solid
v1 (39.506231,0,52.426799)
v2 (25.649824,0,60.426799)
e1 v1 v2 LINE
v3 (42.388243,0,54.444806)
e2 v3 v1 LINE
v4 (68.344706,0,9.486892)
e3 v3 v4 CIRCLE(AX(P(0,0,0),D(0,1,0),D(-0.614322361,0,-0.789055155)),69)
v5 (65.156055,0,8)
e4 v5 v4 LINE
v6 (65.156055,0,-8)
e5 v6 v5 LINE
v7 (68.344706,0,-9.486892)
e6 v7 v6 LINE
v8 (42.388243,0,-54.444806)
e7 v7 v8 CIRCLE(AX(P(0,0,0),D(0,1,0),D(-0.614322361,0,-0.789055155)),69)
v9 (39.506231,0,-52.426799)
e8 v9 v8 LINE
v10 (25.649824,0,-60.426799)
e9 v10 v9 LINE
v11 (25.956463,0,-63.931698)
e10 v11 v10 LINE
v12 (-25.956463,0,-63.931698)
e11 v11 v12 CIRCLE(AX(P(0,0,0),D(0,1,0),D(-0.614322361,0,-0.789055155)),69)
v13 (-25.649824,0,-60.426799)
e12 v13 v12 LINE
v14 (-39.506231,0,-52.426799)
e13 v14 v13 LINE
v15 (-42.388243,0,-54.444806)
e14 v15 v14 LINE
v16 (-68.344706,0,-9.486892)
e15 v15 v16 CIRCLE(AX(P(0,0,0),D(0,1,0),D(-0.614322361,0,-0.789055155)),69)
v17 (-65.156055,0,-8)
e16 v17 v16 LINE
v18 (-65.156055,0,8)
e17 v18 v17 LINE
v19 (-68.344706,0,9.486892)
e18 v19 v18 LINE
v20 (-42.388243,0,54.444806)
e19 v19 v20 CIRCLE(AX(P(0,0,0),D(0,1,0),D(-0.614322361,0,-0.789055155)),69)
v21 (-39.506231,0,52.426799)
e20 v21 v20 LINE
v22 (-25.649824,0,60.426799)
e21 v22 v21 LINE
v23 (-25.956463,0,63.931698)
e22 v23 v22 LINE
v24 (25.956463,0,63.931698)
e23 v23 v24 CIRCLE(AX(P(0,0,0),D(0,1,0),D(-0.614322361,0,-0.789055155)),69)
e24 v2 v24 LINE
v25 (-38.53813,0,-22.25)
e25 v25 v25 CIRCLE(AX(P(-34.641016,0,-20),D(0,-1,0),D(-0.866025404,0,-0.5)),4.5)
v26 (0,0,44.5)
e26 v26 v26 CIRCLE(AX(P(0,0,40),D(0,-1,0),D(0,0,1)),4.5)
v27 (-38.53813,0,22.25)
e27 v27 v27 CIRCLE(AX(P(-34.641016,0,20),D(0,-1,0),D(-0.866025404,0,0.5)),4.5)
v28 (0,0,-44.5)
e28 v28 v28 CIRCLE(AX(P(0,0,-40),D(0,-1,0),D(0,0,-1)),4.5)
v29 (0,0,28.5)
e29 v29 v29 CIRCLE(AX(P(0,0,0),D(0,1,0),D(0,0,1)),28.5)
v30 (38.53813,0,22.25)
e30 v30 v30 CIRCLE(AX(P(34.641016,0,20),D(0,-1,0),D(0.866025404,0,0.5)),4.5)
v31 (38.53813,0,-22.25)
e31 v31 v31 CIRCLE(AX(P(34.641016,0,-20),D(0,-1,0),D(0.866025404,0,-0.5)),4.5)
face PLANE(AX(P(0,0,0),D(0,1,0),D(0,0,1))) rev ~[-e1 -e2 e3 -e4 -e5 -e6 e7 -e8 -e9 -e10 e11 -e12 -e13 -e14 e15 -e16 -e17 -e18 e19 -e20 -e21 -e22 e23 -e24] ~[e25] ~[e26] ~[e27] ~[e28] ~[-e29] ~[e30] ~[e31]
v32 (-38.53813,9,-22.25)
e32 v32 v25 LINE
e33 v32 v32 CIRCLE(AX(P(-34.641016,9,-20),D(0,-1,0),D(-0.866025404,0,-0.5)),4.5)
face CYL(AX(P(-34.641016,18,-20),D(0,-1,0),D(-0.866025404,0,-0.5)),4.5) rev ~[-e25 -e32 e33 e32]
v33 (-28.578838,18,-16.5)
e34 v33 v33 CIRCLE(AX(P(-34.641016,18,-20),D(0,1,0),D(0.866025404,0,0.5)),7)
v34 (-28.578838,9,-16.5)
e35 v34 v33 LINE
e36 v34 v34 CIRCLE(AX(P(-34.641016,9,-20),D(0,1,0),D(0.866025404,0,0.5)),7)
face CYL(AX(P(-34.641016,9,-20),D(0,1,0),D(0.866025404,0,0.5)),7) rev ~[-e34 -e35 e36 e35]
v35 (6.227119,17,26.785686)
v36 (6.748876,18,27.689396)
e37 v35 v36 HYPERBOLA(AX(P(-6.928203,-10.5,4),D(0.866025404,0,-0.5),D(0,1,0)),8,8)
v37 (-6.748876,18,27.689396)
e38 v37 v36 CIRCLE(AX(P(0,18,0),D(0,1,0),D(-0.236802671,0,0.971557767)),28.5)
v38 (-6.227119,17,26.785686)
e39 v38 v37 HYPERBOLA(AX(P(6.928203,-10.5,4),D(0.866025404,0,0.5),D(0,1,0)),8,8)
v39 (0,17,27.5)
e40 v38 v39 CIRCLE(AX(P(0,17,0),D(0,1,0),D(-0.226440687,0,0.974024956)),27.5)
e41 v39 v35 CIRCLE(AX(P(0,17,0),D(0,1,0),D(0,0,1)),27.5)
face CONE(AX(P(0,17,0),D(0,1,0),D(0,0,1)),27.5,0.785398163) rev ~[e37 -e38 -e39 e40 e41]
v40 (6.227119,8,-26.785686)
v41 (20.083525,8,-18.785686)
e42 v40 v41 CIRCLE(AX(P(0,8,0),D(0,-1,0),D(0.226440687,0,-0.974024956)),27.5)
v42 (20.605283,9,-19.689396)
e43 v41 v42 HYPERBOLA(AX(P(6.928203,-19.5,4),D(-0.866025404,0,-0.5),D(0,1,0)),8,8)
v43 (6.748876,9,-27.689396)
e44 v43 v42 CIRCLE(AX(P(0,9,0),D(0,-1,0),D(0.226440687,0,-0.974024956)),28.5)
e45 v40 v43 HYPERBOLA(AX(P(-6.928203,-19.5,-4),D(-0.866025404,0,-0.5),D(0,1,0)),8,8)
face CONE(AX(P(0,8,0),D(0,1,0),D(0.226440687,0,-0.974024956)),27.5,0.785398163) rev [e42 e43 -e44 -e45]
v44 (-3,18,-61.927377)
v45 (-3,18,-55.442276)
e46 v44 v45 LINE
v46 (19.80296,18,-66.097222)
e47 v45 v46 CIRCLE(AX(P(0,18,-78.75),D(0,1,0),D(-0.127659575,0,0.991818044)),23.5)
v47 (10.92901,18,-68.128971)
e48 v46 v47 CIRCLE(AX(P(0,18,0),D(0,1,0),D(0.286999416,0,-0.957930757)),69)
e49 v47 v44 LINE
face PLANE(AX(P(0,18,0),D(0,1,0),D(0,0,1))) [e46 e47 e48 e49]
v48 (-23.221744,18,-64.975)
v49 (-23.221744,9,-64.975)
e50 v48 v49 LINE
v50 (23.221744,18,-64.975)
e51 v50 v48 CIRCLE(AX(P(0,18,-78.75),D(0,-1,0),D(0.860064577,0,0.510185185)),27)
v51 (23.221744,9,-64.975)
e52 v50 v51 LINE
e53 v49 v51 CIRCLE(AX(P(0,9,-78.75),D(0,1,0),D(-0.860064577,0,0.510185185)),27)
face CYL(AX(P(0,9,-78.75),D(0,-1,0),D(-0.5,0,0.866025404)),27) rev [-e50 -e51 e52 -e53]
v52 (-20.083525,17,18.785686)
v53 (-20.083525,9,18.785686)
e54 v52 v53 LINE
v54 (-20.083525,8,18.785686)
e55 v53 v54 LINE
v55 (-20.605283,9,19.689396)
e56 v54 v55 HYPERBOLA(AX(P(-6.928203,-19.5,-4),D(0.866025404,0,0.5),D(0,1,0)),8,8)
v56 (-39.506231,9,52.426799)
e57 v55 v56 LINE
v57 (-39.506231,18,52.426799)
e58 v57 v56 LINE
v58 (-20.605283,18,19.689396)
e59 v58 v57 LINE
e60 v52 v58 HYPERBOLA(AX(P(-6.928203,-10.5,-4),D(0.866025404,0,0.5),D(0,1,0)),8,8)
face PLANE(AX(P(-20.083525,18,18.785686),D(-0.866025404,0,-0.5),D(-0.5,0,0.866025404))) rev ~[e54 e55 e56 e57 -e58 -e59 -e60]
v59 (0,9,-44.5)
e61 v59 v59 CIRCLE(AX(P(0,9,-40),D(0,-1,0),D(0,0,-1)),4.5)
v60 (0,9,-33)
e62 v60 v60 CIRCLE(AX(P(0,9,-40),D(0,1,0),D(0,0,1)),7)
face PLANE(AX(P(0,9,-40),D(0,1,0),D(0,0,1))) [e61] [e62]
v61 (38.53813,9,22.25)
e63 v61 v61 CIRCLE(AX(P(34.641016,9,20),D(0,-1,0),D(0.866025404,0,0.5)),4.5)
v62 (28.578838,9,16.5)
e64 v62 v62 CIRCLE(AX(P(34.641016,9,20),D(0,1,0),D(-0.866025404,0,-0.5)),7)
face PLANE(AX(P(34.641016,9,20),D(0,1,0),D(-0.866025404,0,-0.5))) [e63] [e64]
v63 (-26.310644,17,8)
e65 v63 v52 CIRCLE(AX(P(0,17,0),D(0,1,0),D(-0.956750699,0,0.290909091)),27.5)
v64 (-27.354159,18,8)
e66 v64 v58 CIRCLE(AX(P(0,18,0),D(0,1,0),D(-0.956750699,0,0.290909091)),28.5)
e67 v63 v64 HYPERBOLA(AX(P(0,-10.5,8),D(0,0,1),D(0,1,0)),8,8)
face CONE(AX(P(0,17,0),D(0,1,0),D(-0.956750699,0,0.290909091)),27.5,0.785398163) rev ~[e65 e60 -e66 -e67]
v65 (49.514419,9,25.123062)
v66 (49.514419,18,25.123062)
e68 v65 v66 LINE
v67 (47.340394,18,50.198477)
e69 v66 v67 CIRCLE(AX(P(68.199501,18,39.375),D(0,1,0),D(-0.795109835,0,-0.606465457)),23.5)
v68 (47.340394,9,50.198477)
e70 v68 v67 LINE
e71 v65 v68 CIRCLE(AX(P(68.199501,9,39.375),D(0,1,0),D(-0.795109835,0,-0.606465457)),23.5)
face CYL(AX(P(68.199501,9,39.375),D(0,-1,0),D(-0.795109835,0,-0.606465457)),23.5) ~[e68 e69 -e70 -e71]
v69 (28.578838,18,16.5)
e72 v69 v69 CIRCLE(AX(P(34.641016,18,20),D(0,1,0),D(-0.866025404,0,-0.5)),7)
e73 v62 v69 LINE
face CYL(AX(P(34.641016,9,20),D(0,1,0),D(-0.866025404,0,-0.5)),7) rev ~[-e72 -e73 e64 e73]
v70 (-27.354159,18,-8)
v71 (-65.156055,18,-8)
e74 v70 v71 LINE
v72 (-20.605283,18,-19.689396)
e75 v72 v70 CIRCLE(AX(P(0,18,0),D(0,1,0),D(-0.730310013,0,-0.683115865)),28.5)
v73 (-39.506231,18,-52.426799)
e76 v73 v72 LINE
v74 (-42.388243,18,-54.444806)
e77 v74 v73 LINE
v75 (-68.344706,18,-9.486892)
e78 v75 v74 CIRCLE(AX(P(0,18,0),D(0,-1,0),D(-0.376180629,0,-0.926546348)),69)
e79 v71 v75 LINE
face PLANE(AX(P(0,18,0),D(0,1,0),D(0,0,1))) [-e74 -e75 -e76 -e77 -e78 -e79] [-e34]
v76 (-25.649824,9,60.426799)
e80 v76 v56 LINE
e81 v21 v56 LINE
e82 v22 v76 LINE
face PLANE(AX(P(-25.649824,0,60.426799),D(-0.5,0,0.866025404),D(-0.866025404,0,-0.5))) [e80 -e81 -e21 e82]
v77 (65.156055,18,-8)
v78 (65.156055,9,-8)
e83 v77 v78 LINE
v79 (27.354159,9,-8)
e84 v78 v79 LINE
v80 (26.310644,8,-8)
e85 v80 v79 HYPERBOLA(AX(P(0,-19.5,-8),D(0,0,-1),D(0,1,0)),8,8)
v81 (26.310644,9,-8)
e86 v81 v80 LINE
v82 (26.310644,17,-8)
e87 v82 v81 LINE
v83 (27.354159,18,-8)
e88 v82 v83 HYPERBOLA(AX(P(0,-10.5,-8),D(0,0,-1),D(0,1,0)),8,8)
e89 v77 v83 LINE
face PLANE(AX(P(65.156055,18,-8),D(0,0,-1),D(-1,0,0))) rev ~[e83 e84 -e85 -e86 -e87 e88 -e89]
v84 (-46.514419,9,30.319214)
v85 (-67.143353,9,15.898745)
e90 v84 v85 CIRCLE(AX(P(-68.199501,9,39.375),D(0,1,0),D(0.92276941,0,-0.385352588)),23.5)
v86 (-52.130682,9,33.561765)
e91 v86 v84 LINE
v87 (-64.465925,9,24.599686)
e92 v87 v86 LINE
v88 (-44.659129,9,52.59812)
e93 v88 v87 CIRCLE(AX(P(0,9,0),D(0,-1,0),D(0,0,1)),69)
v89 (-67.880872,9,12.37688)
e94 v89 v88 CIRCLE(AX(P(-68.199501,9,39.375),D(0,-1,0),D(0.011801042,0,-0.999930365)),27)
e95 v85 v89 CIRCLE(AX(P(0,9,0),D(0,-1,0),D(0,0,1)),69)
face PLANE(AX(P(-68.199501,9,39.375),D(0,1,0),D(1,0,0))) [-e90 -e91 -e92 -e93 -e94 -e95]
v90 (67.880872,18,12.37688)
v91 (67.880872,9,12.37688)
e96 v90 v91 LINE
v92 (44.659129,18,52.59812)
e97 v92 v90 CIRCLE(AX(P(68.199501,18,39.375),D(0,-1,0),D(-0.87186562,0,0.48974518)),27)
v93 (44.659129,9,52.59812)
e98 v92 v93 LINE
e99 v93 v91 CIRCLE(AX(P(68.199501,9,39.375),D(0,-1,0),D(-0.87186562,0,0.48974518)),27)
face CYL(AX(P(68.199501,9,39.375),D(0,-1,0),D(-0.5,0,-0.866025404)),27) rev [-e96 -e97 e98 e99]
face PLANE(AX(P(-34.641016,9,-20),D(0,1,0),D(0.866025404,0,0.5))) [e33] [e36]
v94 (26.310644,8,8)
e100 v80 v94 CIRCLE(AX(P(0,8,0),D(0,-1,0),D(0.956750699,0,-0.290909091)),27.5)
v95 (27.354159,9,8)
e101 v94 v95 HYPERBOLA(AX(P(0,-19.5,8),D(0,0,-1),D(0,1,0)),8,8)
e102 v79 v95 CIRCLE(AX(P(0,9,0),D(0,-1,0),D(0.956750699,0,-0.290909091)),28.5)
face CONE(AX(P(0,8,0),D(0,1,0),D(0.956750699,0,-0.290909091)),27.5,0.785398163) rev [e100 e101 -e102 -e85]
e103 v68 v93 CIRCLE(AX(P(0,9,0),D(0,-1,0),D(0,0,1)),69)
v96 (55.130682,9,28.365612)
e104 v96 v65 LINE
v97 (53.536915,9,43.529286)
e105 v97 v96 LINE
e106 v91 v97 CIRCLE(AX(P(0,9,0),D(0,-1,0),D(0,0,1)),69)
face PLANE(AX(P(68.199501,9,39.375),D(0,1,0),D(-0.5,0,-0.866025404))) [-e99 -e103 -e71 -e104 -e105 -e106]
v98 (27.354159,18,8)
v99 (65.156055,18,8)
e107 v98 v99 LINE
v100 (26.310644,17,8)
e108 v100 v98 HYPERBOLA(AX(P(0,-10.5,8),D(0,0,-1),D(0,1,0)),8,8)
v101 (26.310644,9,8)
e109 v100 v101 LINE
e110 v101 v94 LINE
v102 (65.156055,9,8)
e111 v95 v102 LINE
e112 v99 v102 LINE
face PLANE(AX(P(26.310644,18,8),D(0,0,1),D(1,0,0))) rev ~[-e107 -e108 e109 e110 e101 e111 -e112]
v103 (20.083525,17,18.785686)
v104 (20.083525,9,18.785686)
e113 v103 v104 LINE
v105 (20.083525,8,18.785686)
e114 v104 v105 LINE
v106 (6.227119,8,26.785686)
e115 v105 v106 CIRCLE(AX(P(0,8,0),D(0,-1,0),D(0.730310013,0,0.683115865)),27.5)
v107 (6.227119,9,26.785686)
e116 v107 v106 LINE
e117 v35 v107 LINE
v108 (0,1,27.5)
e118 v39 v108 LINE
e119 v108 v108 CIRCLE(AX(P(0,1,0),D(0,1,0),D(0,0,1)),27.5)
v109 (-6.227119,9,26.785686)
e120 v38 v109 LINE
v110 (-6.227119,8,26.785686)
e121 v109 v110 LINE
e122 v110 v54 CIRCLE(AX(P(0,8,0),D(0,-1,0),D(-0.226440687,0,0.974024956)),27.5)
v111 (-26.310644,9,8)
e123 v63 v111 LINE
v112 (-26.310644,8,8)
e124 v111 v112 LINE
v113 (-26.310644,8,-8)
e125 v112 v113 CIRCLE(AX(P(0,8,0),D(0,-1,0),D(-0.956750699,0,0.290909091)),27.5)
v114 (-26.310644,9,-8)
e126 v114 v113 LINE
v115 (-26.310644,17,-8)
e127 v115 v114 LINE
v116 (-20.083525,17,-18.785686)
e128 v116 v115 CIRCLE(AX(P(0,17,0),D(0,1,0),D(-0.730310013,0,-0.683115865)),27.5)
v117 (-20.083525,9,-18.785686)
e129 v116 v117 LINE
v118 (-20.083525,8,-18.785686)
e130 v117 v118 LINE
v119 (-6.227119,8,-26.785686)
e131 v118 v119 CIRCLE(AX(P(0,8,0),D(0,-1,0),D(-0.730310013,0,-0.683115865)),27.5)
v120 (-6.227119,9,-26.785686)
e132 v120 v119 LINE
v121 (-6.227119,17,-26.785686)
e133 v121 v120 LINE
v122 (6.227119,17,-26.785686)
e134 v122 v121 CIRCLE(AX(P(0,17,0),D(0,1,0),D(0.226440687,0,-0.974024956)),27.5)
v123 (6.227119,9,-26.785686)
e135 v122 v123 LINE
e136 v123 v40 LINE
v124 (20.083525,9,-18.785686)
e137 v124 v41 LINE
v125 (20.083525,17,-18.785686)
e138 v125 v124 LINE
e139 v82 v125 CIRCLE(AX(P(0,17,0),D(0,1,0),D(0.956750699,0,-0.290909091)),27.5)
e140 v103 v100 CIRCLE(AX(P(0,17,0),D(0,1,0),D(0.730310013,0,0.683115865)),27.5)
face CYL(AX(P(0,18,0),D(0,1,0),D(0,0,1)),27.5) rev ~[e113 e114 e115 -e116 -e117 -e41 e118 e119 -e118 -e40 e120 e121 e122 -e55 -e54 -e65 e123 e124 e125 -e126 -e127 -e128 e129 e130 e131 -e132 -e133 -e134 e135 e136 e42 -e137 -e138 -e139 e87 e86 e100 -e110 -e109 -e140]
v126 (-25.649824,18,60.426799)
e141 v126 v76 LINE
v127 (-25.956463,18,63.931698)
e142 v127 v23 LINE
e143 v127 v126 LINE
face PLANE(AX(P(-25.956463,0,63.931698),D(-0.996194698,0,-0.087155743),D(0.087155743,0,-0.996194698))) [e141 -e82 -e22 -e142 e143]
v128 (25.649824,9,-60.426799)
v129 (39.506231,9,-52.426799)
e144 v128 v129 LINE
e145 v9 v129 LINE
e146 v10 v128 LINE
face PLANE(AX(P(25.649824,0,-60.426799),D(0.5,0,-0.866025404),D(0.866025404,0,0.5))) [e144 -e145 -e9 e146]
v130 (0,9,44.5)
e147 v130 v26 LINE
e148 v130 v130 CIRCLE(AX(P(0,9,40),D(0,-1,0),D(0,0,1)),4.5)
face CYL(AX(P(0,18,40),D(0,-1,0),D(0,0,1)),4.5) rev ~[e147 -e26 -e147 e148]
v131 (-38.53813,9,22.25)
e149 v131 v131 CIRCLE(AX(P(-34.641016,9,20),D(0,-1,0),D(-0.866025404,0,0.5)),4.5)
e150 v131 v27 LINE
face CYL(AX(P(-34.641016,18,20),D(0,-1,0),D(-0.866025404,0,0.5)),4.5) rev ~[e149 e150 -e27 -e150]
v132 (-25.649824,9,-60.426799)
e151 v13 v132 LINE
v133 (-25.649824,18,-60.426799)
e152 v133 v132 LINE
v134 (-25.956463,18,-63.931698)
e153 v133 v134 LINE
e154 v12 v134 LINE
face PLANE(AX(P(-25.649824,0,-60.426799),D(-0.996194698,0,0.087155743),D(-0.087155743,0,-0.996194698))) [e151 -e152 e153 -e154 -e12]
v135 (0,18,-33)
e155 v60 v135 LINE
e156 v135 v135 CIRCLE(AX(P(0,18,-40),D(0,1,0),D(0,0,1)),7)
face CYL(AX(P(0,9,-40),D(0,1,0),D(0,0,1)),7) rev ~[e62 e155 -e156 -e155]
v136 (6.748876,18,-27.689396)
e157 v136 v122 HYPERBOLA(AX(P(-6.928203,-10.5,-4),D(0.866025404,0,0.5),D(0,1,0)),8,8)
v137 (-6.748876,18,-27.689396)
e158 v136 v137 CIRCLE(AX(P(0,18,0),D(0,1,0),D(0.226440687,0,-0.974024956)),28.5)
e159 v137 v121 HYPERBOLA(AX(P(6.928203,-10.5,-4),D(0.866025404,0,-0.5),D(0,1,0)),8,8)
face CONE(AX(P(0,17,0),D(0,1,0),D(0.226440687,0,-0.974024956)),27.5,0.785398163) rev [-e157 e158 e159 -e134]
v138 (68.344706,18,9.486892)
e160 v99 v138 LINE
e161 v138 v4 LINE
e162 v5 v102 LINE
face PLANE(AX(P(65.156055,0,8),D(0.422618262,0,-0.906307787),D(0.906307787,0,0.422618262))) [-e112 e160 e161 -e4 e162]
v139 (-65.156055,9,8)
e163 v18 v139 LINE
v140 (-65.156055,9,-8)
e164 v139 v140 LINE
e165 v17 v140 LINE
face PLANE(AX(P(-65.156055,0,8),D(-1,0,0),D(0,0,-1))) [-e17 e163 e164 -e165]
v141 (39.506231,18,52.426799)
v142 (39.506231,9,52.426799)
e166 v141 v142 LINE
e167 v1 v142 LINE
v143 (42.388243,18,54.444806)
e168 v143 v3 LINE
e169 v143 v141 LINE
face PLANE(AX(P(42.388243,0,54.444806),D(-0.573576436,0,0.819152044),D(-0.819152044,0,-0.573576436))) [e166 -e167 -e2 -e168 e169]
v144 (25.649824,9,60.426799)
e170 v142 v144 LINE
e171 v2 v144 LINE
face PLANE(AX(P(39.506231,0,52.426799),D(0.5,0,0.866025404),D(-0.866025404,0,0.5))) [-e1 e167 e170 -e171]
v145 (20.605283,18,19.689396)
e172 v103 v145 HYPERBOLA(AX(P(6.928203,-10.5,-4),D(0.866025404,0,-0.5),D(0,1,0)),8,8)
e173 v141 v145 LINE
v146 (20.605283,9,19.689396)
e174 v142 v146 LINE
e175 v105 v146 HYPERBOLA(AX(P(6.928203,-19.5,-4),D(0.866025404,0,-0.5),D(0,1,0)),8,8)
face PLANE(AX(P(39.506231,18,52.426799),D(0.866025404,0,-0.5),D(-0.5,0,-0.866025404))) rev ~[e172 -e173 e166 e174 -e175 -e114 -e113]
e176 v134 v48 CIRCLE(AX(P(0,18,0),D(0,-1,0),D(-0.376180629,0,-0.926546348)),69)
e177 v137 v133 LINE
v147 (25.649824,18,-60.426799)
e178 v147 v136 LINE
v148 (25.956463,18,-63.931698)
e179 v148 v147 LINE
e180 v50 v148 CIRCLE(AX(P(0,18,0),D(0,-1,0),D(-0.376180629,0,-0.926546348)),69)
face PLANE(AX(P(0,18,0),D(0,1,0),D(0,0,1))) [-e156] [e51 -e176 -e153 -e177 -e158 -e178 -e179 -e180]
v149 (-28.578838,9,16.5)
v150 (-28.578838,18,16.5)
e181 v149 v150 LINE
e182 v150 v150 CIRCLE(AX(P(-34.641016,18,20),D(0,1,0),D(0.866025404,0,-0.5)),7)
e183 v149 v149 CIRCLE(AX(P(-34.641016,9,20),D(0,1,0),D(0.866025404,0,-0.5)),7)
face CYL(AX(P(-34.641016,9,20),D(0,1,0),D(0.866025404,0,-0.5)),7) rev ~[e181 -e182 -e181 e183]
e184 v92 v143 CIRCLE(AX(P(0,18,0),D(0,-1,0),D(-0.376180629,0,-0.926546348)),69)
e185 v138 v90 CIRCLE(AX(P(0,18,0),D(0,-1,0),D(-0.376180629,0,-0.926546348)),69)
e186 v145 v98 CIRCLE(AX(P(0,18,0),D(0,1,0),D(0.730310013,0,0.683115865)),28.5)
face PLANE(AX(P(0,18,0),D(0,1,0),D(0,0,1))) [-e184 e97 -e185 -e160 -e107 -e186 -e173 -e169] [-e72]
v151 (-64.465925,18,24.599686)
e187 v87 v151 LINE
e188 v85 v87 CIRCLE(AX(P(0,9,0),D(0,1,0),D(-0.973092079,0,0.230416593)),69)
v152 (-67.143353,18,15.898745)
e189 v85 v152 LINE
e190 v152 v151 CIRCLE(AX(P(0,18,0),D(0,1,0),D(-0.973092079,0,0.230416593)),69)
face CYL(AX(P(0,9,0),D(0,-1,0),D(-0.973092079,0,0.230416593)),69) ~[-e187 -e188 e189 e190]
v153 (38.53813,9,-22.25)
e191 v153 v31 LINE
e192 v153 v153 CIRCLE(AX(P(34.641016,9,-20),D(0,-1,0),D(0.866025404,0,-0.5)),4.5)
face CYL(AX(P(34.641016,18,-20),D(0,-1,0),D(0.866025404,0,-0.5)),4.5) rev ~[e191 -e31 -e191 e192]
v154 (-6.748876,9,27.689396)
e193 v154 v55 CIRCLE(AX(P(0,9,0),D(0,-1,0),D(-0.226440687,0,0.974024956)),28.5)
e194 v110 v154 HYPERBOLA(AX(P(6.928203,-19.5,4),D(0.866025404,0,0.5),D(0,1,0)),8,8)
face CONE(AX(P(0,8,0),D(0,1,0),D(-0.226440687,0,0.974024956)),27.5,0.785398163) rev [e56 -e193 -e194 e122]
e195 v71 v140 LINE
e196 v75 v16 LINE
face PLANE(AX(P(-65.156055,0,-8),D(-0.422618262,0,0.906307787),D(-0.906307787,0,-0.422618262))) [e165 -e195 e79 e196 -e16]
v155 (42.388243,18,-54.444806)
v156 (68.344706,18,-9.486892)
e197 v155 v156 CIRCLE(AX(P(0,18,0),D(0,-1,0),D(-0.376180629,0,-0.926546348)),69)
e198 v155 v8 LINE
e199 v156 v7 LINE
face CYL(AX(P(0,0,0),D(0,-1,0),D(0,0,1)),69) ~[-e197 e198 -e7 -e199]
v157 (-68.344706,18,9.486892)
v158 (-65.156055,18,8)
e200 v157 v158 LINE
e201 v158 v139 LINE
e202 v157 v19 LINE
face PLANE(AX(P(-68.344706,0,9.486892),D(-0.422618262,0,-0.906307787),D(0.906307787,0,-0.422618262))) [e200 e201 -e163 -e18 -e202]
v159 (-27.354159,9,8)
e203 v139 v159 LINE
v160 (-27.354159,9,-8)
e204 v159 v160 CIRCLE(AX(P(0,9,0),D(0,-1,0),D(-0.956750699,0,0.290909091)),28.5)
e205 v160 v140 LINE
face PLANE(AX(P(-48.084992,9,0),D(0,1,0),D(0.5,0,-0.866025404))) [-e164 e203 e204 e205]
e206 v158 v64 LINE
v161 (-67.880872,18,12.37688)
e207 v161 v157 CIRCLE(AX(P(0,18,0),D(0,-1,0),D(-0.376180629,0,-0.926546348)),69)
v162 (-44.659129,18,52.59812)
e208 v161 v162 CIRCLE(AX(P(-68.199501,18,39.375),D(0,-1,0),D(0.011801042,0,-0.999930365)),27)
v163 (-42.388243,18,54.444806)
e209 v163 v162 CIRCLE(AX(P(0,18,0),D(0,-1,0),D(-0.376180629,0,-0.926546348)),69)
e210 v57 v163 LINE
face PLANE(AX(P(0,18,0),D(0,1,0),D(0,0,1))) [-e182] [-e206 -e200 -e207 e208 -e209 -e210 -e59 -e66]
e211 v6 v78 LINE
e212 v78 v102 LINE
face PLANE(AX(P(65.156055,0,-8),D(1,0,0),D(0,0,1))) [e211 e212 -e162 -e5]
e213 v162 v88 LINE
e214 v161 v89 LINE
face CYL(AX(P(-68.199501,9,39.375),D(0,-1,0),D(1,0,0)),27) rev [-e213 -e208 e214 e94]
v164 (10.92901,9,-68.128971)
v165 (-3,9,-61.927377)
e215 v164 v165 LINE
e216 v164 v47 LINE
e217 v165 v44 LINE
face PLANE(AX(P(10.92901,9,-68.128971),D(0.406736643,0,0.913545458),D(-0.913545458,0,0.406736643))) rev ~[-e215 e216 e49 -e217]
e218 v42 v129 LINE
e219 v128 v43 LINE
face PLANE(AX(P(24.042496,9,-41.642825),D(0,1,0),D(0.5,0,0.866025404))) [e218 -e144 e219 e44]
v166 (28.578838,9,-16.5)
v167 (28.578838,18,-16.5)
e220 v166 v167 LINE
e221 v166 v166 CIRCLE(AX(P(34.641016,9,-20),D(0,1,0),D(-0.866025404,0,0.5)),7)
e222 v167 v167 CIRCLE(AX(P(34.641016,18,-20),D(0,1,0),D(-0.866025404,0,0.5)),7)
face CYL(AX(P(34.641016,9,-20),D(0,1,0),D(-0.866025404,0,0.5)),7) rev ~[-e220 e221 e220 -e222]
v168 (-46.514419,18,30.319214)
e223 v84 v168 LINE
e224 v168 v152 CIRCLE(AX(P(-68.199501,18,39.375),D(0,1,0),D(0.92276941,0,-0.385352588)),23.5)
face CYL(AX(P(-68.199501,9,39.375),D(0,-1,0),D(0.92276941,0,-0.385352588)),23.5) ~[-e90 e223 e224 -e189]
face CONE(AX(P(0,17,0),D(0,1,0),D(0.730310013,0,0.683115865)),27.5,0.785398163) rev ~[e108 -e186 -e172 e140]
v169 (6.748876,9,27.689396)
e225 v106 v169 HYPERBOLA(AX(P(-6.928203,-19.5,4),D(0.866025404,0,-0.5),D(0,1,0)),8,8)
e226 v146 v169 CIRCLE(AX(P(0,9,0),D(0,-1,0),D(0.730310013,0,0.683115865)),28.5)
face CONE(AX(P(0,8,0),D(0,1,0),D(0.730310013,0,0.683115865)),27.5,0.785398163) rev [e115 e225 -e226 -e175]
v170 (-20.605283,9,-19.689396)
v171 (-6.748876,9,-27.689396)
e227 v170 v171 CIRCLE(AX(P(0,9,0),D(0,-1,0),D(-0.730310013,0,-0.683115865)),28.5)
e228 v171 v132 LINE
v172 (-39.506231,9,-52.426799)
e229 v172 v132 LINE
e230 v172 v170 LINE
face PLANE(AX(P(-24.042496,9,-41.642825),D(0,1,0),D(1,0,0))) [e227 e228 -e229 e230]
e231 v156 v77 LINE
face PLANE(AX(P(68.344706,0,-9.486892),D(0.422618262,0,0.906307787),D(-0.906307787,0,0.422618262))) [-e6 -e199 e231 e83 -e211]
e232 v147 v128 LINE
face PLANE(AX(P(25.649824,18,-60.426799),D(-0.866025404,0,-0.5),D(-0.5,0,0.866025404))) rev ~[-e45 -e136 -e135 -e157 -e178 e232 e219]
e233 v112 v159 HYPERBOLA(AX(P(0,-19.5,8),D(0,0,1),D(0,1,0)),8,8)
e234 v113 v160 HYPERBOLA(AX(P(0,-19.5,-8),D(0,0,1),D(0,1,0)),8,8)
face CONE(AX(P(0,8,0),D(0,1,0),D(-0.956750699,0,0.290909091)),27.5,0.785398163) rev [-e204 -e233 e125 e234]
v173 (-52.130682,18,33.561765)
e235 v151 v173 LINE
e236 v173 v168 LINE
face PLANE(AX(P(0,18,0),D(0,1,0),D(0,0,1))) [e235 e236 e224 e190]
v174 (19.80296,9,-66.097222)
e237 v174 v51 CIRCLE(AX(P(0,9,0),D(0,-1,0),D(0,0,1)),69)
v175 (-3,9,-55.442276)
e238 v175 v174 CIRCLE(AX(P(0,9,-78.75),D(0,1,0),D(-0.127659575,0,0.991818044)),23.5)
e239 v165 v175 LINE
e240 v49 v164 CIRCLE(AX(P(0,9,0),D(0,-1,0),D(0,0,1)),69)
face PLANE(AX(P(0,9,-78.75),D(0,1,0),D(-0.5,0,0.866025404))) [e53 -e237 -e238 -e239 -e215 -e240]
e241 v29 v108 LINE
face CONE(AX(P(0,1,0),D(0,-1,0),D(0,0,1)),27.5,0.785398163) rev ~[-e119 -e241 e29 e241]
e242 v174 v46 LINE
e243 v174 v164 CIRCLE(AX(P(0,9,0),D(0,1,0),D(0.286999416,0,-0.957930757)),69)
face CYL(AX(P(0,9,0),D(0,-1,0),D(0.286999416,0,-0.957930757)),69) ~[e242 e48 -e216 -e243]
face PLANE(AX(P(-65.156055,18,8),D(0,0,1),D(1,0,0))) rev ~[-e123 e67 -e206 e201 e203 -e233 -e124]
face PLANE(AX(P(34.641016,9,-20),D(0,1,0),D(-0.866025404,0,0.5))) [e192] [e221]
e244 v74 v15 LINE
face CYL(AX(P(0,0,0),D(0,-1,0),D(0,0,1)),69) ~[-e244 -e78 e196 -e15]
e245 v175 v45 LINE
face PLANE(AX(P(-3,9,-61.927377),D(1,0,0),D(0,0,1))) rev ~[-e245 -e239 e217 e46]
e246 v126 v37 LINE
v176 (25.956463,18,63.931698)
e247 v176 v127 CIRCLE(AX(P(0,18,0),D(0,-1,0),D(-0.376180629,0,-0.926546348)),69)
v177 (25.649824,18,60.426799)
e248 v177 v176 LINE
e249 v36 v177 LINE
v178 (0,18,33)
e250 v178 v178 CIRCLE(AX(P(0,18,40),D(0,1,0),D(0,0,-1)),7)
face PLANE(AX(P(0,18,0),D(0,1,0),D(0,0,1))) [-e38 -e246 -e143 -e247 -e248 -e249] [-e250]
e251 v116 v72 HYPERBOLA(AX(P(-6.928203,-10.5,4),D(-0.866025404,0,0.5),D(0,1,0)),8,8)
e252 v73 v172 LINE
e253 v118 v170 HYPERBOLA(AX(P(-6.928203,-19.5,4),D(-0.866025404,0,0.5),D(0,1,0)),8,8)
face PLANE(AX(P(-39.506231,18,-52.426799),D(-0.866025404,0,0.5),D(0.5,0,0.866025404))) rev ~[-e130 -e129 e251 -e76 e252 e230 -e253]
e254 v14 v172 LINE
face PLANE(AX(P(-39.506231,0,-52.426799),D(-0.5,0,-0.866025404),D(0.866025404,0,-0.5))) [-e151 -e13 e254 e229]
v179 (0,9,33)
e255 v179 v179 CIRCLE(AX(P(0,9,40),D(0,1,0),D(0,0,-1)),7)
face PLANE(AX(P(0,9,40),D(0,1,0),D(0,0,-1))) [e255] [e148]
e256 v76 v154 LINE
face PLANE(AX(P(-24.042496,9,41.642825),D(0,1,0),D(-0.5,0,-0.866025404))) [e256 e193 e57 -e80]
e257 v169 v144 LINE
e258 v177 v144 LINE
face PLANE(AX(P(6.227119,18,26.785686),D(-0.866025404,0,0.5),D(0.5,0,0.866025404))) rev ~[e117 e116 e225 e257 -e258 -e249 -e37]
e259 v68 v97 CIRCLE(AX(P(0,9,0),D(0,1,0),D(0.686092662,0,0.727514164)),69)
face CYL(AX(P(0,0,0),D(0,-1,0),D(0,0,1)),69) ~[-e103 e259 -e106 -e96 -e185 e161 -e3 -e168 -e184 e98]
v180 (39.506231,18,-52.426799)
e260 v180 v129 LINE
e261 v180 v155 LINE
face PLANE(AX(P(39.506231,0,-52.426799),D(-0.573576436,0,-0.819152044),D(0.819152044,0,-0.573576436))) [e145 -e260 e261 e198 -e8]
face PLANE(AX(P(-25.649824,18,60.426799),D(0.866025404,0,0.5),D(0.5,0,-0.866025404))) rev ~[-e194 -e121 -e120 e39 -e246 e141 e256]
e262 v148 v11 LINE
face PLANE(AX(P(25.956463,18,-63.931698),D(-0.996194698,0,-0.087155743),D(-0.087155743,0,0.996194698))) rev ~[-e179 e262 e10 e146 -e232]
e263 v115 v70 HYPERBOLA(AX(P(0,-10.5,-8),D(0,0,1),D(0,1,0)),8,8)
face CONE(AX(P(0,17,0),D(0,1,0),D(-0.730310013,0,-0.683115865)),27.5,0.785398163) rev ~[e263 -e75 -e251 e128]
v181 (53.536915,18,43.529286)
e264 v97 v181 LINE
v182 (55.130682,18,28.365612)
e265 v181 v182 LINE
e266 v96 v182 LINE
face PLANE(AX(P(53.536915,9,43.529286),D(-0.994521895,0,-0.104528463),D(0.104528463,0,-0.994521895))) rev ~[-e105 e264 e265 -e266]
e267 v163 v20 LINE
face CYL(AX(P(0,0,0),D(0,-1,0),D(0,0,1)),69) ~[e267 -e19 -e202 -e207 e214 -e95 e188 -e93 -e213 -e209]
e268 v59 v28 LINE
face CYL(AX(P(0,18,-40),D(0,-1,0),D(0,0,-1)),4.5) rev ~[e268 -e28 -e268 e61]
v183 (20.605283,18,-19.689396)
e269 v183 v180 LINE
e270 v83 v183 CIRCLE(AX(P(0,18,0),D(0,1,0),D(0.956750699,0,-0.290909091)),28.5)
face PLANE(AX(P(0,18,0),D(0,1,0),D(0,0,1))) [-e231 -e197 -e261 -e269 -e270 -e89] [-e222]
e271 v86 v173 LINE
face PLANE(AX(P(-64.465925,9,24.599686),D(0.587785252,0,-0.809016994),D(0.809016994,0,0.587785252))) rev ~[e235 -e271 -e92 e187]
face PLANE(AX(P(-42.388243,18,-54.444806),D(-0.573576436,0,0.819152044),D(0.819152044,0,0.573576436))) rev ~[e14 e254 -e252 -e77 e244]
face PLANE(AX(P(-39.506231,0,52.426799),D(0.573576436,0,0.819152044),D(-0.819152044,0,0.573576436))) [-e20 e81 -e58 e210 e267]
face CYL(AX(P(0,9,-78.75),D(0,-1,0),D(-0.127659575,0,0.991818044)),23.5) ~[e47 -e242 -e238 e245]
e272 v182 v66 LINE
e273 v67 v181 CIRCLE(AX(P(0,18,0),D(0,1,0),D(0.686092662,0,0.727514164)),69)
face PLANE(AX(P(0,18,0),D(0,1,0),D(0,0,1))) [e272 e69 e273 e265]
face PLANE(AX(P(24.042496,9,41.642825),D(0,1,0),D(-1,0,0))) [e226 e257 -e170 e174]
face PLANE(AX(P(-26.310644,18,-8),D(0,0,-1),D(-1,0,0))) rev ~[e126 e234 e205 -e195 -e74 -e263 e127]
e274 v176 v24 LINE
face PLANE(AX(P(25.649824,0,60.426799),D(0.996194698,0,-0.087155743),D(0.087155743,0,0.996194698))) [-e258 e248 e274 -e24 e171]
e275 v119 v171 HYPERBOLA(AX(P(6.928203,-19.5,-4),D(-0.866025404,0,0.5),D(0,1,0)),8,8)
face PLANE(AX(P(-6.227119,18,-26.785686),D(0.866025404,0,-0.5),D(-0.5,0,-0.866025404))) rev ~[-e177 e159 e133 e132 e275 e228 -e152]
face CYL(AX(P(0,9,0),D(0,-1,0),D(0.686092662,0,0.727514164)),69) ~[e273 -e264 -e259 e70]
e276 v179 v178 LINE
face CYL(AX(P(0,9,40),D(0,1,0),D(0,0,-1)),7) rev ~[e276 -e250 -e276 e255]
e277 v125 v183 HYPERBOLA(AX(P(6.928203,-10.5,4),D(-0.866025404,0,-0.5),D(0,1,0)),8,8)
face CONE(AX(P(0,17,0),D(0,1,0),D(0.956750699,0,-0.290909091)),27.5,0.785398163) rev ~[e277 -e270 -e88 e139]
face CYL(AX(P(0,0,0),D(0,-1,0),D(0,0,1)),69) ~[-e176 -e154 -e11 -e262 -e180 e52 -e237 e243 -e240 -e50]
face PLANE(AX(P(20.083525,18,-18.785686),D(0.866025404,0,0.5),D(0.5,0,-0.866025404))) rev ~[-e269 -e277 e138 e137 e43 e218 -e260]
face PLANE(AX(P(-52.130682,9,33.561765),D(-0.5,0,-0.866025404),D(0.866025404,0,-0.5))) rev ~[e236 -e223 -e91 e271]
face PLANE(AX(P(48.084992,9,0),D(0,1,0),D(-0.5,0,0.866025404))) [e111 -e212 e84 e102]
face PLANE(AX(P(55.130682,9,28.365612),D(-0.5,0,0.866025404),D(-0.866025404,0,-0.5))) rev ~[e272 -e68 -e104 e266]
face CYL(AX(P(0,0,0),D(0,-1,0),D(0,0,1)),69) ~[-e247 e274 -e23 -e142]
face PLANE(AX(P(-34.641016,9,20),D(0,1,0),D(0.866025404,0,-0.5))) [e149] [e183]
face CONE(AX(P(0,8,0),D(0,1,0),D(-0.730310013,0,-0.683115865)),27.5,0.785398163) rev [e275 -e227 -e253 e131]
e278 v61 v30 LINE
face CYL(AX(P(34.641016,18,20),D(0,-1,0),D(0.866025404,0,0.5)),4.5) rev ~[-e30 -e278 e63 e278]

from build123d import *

# Parameters (mm, degrees)
SKETCH1_R                               = 69
BOSS_EXTRUDE1_DEPTH                     = 18
SKETCH2_R                               = 27.5
CUT_EXTRUDE1_DEPTH                      = 100.227012451
CUT_EXTRUDE2_DEPTH                      = 9
CUT_EXTRUDE3_START                      = -9
CUT_EXTRUDE3_DEPTH                      = 9
CIRPATTERN1_COUNT                       = 6
CUT_EXTRUDE4_START                      = -9
SKETCH5_R                               = 27
CUT_EXTRUDE4_DEPTH                      = 9
CIRPATTERN2_COUNT                       = 3
CBORE_FOR_M5_HEX_HEAD_BOLT1_D           = 9
CBORE_FOR_M5_HEX_HEAD_BOLT1_CBORE_D     = 14
CBORE_FOR_M5_HEX_HEAD_BOLT1_CBORE_DEPTH = 9
CIRPATTERN3_COUNT                       = 6
CHAMFER1_SIZE                           = 1


with BuildPart() as part:
    # Sketch1 → Boss-Extrude1 (new body)
    with BuildSketch(Plane(origin=(0, 0, 0), x_dir=(1, 0, 0), z_dir=(0, 1, 0))):
        with Locations(Location((0, 0, 0), (0, 0, 270))):
            Circle(SKETCH1_R)
    extrude(amount=BOSS_EXTRUDE1_DEPTH)

    # Sketch2 → Cut-Extrude1 (cut, through all)
    with BuildSketch(Plane(origin=(0, 18, 0), x_dir=(1, 0, 0), z_dir=(0, 1, 0))):
        with Locations(Location((0, 0, 0), (0, 0, 270))):
            Circle(SKETCH2_R)
    extrude(amount=-CUT_EXTRUDE1_DEPTH, mode=Mode.SUBTRACT)

    # Sketch3 → Cut-Extrude2 (cut)
    with BuildSketch(Plane(origin=(0, 18, 0), x_dir=(1, 0, 0), z_dir=(0, 1, 0))):
        with BuildLine():
            Line((-39.506230912, 52.426799156), (-20.083525347, 18.785686296))
            ThreePointArc((-20.083525347, 18.785686296), (-13.75, 23.815698604), (-6.227118887, 26.785686296))
            Line((-6.227118887, 26.785686296), (-25.649824452, 60.426799156))
            Line((-25.649824452, 60.426799156), (-25.956463368, 63.931698002))
            ThreePointArc((-25.956463368, 63.931698002), (-34.5, 59.755752861), (-42.388242893, 54.44480567))
            Line((-42.388242893, 54.44480567), (-39.506230912, 52.426799156))
        make_face()
    cut_extrude2 = extrude(amount=-CUT_EXTRUDE2_DEPTH, mode=Mode.SUBTRACT)

    # Sketch4 → Cut-Extrude3 (cut)
    with BuildSketch(Plane(origin=(0, 9, 0), x_dir=(1, 0, 0), z_dir=(0, 1, 0)).offset(CUT_EXTRUDE3_START)):
        with BuildLine():
            Line((-39.506230912, 52.426799156), (-25.649824452, 60.426799156))
            Line((-25.649824452, 60.426799156), (-25.956463368, 63.931698002))
            ThreePointArc((-25.956463368, 63.931698002), (-34.5, 59.755752861), (-42.388242893, 54.44480567))
            Line((-42.388242893, 54.44480567), (-39.506230912, 52.426799156))
        make_face()
    cut_extrude3 = extrude(amount=CUT_EXTRUDE3_DEPTH, mode=Mode.SUBTRACT)

    # CirPattern1: Cut-Extrude2, Cut-Extrude3 ×6 about axis
    cirpattern1_axis = Axis((0, 0, 0), (0, 1, 0))
    add([cut_extrude2.rotate(cirpattern1_axis, i * 360 / CIRPATTERN1_COUNT) for i in range(1, CIRPATTERN1_COUNT)], mode=Mode.SUBTRACT)
    add([cut_extrude3.rotate(cirpattern1_axis, i * 360 / CIRPATTERN1_COUNT) for i in range(1, CIRPATTERN1_COUNT)], mode=Mode.SUBTRACT)

    # Sketch5 → Cut-Extrude4 (cut)
    with BuildSketch(Plane(origin=(0, 18, 0), x_dir=(1, 0, 0), z_dir=(0, 1, 0)).offset(CUT_EXTRUDE4_START)):
        with Locations((-68.199500548, -39.375)):
            Circle(SKETCH5_R)
        with BuildLine():
            Line((-52.130681517, -33.561764622), (-46.514419424, -30.319214191))
            ThreePointArc((-46.514419424, -30.319214191), (-54.735535714, -20.114375634), (-67.143353435, -15.898744905))
            ThreePointArc((-67.143353435, -15.898744905), (-65.948291272, -20.29341958), (-64.465924789, -24.599685792))
            Line((-64.465924789, -24.599685792), (-52.130681517, -33.561764622))
        make_face(mode=Mode.SUBTRACT)
    cut_extrude4 = extrude(amount=CUT_EXTRUDE4_DEPTH, mode=Mode.SUBTRACT)

    # CirPattern2: Cut-Extrude4 ×3 about axis
    cirpattern2_axis = Axis((0, 0, 0), (0, 1, 0))
    for i in range(1, CIRPATTERN2_COUNT):
        add(cut_extrude4.rotate(cirpattern2_axis, i * 360 / CIRPATTERN2_COUNT), mode=Mode.SUBTRACT)

    # CBORE for M5 Hex Head Bolt1 (through all)
    with Locations(Plane(origin=(0, 18, -40), x_dir=(0, 0, 1), z_dir=(0, 1, 0))):
        with Locations((0, 0)):
            cbore_for_m5_hex_head_bolt1 = CounterBoreHole(CBORE_FOR_M5_HEX_HEAD_BOLT1_D / 2, CBORE_FOR_M5_HEX_HEAD_BOLT1_CBORE_D / 2, CBORE_FOR_M5_HEX_HEAD_BOLT1_CBORE_DEPTH)

    # CirPattern3: CBORE for M5 Hex Head Bolt1 ×6 about axis
    cirpattern3_axis = Axis((0, 0, 0), (0, 1, 0))
    for i in range(1, CIRPATTERN3_COUNT):
        add(cbore_for_m5_hex_head_bolt1.rotate(cirpattern3_axis, i * 360 / CIRPATTERN3_COUNT), mode=Mode.SUBTRACT)

    # Chamfer1
    chamfer1_edges = [part.edges().sort_by_distance(p)[0] for p in [
        (-23.815698604, 18, -13.75),
        (-27.5, 9, 0),
        (-13.75, 9, -23.815698604),
        (-23.815698604, 18, 13.75),
        (3.133977253, 18, 27.320837955),
        (23.815698604, 18, 13.75),
        (23.815698604, 18, -13.75),
        (0, 18, -27.5),
        (0, 0, -27.5),
        (13.75, 9, -23.815698604),
        (27.5, 9, 0),
        (13.75, 9, 23.815698604),
        (-13.75, 9, 23.815698604),
    ]]
    chamfer(chamfer1_edges, length=CHAMFER1_SIZE)


solid = part.part
